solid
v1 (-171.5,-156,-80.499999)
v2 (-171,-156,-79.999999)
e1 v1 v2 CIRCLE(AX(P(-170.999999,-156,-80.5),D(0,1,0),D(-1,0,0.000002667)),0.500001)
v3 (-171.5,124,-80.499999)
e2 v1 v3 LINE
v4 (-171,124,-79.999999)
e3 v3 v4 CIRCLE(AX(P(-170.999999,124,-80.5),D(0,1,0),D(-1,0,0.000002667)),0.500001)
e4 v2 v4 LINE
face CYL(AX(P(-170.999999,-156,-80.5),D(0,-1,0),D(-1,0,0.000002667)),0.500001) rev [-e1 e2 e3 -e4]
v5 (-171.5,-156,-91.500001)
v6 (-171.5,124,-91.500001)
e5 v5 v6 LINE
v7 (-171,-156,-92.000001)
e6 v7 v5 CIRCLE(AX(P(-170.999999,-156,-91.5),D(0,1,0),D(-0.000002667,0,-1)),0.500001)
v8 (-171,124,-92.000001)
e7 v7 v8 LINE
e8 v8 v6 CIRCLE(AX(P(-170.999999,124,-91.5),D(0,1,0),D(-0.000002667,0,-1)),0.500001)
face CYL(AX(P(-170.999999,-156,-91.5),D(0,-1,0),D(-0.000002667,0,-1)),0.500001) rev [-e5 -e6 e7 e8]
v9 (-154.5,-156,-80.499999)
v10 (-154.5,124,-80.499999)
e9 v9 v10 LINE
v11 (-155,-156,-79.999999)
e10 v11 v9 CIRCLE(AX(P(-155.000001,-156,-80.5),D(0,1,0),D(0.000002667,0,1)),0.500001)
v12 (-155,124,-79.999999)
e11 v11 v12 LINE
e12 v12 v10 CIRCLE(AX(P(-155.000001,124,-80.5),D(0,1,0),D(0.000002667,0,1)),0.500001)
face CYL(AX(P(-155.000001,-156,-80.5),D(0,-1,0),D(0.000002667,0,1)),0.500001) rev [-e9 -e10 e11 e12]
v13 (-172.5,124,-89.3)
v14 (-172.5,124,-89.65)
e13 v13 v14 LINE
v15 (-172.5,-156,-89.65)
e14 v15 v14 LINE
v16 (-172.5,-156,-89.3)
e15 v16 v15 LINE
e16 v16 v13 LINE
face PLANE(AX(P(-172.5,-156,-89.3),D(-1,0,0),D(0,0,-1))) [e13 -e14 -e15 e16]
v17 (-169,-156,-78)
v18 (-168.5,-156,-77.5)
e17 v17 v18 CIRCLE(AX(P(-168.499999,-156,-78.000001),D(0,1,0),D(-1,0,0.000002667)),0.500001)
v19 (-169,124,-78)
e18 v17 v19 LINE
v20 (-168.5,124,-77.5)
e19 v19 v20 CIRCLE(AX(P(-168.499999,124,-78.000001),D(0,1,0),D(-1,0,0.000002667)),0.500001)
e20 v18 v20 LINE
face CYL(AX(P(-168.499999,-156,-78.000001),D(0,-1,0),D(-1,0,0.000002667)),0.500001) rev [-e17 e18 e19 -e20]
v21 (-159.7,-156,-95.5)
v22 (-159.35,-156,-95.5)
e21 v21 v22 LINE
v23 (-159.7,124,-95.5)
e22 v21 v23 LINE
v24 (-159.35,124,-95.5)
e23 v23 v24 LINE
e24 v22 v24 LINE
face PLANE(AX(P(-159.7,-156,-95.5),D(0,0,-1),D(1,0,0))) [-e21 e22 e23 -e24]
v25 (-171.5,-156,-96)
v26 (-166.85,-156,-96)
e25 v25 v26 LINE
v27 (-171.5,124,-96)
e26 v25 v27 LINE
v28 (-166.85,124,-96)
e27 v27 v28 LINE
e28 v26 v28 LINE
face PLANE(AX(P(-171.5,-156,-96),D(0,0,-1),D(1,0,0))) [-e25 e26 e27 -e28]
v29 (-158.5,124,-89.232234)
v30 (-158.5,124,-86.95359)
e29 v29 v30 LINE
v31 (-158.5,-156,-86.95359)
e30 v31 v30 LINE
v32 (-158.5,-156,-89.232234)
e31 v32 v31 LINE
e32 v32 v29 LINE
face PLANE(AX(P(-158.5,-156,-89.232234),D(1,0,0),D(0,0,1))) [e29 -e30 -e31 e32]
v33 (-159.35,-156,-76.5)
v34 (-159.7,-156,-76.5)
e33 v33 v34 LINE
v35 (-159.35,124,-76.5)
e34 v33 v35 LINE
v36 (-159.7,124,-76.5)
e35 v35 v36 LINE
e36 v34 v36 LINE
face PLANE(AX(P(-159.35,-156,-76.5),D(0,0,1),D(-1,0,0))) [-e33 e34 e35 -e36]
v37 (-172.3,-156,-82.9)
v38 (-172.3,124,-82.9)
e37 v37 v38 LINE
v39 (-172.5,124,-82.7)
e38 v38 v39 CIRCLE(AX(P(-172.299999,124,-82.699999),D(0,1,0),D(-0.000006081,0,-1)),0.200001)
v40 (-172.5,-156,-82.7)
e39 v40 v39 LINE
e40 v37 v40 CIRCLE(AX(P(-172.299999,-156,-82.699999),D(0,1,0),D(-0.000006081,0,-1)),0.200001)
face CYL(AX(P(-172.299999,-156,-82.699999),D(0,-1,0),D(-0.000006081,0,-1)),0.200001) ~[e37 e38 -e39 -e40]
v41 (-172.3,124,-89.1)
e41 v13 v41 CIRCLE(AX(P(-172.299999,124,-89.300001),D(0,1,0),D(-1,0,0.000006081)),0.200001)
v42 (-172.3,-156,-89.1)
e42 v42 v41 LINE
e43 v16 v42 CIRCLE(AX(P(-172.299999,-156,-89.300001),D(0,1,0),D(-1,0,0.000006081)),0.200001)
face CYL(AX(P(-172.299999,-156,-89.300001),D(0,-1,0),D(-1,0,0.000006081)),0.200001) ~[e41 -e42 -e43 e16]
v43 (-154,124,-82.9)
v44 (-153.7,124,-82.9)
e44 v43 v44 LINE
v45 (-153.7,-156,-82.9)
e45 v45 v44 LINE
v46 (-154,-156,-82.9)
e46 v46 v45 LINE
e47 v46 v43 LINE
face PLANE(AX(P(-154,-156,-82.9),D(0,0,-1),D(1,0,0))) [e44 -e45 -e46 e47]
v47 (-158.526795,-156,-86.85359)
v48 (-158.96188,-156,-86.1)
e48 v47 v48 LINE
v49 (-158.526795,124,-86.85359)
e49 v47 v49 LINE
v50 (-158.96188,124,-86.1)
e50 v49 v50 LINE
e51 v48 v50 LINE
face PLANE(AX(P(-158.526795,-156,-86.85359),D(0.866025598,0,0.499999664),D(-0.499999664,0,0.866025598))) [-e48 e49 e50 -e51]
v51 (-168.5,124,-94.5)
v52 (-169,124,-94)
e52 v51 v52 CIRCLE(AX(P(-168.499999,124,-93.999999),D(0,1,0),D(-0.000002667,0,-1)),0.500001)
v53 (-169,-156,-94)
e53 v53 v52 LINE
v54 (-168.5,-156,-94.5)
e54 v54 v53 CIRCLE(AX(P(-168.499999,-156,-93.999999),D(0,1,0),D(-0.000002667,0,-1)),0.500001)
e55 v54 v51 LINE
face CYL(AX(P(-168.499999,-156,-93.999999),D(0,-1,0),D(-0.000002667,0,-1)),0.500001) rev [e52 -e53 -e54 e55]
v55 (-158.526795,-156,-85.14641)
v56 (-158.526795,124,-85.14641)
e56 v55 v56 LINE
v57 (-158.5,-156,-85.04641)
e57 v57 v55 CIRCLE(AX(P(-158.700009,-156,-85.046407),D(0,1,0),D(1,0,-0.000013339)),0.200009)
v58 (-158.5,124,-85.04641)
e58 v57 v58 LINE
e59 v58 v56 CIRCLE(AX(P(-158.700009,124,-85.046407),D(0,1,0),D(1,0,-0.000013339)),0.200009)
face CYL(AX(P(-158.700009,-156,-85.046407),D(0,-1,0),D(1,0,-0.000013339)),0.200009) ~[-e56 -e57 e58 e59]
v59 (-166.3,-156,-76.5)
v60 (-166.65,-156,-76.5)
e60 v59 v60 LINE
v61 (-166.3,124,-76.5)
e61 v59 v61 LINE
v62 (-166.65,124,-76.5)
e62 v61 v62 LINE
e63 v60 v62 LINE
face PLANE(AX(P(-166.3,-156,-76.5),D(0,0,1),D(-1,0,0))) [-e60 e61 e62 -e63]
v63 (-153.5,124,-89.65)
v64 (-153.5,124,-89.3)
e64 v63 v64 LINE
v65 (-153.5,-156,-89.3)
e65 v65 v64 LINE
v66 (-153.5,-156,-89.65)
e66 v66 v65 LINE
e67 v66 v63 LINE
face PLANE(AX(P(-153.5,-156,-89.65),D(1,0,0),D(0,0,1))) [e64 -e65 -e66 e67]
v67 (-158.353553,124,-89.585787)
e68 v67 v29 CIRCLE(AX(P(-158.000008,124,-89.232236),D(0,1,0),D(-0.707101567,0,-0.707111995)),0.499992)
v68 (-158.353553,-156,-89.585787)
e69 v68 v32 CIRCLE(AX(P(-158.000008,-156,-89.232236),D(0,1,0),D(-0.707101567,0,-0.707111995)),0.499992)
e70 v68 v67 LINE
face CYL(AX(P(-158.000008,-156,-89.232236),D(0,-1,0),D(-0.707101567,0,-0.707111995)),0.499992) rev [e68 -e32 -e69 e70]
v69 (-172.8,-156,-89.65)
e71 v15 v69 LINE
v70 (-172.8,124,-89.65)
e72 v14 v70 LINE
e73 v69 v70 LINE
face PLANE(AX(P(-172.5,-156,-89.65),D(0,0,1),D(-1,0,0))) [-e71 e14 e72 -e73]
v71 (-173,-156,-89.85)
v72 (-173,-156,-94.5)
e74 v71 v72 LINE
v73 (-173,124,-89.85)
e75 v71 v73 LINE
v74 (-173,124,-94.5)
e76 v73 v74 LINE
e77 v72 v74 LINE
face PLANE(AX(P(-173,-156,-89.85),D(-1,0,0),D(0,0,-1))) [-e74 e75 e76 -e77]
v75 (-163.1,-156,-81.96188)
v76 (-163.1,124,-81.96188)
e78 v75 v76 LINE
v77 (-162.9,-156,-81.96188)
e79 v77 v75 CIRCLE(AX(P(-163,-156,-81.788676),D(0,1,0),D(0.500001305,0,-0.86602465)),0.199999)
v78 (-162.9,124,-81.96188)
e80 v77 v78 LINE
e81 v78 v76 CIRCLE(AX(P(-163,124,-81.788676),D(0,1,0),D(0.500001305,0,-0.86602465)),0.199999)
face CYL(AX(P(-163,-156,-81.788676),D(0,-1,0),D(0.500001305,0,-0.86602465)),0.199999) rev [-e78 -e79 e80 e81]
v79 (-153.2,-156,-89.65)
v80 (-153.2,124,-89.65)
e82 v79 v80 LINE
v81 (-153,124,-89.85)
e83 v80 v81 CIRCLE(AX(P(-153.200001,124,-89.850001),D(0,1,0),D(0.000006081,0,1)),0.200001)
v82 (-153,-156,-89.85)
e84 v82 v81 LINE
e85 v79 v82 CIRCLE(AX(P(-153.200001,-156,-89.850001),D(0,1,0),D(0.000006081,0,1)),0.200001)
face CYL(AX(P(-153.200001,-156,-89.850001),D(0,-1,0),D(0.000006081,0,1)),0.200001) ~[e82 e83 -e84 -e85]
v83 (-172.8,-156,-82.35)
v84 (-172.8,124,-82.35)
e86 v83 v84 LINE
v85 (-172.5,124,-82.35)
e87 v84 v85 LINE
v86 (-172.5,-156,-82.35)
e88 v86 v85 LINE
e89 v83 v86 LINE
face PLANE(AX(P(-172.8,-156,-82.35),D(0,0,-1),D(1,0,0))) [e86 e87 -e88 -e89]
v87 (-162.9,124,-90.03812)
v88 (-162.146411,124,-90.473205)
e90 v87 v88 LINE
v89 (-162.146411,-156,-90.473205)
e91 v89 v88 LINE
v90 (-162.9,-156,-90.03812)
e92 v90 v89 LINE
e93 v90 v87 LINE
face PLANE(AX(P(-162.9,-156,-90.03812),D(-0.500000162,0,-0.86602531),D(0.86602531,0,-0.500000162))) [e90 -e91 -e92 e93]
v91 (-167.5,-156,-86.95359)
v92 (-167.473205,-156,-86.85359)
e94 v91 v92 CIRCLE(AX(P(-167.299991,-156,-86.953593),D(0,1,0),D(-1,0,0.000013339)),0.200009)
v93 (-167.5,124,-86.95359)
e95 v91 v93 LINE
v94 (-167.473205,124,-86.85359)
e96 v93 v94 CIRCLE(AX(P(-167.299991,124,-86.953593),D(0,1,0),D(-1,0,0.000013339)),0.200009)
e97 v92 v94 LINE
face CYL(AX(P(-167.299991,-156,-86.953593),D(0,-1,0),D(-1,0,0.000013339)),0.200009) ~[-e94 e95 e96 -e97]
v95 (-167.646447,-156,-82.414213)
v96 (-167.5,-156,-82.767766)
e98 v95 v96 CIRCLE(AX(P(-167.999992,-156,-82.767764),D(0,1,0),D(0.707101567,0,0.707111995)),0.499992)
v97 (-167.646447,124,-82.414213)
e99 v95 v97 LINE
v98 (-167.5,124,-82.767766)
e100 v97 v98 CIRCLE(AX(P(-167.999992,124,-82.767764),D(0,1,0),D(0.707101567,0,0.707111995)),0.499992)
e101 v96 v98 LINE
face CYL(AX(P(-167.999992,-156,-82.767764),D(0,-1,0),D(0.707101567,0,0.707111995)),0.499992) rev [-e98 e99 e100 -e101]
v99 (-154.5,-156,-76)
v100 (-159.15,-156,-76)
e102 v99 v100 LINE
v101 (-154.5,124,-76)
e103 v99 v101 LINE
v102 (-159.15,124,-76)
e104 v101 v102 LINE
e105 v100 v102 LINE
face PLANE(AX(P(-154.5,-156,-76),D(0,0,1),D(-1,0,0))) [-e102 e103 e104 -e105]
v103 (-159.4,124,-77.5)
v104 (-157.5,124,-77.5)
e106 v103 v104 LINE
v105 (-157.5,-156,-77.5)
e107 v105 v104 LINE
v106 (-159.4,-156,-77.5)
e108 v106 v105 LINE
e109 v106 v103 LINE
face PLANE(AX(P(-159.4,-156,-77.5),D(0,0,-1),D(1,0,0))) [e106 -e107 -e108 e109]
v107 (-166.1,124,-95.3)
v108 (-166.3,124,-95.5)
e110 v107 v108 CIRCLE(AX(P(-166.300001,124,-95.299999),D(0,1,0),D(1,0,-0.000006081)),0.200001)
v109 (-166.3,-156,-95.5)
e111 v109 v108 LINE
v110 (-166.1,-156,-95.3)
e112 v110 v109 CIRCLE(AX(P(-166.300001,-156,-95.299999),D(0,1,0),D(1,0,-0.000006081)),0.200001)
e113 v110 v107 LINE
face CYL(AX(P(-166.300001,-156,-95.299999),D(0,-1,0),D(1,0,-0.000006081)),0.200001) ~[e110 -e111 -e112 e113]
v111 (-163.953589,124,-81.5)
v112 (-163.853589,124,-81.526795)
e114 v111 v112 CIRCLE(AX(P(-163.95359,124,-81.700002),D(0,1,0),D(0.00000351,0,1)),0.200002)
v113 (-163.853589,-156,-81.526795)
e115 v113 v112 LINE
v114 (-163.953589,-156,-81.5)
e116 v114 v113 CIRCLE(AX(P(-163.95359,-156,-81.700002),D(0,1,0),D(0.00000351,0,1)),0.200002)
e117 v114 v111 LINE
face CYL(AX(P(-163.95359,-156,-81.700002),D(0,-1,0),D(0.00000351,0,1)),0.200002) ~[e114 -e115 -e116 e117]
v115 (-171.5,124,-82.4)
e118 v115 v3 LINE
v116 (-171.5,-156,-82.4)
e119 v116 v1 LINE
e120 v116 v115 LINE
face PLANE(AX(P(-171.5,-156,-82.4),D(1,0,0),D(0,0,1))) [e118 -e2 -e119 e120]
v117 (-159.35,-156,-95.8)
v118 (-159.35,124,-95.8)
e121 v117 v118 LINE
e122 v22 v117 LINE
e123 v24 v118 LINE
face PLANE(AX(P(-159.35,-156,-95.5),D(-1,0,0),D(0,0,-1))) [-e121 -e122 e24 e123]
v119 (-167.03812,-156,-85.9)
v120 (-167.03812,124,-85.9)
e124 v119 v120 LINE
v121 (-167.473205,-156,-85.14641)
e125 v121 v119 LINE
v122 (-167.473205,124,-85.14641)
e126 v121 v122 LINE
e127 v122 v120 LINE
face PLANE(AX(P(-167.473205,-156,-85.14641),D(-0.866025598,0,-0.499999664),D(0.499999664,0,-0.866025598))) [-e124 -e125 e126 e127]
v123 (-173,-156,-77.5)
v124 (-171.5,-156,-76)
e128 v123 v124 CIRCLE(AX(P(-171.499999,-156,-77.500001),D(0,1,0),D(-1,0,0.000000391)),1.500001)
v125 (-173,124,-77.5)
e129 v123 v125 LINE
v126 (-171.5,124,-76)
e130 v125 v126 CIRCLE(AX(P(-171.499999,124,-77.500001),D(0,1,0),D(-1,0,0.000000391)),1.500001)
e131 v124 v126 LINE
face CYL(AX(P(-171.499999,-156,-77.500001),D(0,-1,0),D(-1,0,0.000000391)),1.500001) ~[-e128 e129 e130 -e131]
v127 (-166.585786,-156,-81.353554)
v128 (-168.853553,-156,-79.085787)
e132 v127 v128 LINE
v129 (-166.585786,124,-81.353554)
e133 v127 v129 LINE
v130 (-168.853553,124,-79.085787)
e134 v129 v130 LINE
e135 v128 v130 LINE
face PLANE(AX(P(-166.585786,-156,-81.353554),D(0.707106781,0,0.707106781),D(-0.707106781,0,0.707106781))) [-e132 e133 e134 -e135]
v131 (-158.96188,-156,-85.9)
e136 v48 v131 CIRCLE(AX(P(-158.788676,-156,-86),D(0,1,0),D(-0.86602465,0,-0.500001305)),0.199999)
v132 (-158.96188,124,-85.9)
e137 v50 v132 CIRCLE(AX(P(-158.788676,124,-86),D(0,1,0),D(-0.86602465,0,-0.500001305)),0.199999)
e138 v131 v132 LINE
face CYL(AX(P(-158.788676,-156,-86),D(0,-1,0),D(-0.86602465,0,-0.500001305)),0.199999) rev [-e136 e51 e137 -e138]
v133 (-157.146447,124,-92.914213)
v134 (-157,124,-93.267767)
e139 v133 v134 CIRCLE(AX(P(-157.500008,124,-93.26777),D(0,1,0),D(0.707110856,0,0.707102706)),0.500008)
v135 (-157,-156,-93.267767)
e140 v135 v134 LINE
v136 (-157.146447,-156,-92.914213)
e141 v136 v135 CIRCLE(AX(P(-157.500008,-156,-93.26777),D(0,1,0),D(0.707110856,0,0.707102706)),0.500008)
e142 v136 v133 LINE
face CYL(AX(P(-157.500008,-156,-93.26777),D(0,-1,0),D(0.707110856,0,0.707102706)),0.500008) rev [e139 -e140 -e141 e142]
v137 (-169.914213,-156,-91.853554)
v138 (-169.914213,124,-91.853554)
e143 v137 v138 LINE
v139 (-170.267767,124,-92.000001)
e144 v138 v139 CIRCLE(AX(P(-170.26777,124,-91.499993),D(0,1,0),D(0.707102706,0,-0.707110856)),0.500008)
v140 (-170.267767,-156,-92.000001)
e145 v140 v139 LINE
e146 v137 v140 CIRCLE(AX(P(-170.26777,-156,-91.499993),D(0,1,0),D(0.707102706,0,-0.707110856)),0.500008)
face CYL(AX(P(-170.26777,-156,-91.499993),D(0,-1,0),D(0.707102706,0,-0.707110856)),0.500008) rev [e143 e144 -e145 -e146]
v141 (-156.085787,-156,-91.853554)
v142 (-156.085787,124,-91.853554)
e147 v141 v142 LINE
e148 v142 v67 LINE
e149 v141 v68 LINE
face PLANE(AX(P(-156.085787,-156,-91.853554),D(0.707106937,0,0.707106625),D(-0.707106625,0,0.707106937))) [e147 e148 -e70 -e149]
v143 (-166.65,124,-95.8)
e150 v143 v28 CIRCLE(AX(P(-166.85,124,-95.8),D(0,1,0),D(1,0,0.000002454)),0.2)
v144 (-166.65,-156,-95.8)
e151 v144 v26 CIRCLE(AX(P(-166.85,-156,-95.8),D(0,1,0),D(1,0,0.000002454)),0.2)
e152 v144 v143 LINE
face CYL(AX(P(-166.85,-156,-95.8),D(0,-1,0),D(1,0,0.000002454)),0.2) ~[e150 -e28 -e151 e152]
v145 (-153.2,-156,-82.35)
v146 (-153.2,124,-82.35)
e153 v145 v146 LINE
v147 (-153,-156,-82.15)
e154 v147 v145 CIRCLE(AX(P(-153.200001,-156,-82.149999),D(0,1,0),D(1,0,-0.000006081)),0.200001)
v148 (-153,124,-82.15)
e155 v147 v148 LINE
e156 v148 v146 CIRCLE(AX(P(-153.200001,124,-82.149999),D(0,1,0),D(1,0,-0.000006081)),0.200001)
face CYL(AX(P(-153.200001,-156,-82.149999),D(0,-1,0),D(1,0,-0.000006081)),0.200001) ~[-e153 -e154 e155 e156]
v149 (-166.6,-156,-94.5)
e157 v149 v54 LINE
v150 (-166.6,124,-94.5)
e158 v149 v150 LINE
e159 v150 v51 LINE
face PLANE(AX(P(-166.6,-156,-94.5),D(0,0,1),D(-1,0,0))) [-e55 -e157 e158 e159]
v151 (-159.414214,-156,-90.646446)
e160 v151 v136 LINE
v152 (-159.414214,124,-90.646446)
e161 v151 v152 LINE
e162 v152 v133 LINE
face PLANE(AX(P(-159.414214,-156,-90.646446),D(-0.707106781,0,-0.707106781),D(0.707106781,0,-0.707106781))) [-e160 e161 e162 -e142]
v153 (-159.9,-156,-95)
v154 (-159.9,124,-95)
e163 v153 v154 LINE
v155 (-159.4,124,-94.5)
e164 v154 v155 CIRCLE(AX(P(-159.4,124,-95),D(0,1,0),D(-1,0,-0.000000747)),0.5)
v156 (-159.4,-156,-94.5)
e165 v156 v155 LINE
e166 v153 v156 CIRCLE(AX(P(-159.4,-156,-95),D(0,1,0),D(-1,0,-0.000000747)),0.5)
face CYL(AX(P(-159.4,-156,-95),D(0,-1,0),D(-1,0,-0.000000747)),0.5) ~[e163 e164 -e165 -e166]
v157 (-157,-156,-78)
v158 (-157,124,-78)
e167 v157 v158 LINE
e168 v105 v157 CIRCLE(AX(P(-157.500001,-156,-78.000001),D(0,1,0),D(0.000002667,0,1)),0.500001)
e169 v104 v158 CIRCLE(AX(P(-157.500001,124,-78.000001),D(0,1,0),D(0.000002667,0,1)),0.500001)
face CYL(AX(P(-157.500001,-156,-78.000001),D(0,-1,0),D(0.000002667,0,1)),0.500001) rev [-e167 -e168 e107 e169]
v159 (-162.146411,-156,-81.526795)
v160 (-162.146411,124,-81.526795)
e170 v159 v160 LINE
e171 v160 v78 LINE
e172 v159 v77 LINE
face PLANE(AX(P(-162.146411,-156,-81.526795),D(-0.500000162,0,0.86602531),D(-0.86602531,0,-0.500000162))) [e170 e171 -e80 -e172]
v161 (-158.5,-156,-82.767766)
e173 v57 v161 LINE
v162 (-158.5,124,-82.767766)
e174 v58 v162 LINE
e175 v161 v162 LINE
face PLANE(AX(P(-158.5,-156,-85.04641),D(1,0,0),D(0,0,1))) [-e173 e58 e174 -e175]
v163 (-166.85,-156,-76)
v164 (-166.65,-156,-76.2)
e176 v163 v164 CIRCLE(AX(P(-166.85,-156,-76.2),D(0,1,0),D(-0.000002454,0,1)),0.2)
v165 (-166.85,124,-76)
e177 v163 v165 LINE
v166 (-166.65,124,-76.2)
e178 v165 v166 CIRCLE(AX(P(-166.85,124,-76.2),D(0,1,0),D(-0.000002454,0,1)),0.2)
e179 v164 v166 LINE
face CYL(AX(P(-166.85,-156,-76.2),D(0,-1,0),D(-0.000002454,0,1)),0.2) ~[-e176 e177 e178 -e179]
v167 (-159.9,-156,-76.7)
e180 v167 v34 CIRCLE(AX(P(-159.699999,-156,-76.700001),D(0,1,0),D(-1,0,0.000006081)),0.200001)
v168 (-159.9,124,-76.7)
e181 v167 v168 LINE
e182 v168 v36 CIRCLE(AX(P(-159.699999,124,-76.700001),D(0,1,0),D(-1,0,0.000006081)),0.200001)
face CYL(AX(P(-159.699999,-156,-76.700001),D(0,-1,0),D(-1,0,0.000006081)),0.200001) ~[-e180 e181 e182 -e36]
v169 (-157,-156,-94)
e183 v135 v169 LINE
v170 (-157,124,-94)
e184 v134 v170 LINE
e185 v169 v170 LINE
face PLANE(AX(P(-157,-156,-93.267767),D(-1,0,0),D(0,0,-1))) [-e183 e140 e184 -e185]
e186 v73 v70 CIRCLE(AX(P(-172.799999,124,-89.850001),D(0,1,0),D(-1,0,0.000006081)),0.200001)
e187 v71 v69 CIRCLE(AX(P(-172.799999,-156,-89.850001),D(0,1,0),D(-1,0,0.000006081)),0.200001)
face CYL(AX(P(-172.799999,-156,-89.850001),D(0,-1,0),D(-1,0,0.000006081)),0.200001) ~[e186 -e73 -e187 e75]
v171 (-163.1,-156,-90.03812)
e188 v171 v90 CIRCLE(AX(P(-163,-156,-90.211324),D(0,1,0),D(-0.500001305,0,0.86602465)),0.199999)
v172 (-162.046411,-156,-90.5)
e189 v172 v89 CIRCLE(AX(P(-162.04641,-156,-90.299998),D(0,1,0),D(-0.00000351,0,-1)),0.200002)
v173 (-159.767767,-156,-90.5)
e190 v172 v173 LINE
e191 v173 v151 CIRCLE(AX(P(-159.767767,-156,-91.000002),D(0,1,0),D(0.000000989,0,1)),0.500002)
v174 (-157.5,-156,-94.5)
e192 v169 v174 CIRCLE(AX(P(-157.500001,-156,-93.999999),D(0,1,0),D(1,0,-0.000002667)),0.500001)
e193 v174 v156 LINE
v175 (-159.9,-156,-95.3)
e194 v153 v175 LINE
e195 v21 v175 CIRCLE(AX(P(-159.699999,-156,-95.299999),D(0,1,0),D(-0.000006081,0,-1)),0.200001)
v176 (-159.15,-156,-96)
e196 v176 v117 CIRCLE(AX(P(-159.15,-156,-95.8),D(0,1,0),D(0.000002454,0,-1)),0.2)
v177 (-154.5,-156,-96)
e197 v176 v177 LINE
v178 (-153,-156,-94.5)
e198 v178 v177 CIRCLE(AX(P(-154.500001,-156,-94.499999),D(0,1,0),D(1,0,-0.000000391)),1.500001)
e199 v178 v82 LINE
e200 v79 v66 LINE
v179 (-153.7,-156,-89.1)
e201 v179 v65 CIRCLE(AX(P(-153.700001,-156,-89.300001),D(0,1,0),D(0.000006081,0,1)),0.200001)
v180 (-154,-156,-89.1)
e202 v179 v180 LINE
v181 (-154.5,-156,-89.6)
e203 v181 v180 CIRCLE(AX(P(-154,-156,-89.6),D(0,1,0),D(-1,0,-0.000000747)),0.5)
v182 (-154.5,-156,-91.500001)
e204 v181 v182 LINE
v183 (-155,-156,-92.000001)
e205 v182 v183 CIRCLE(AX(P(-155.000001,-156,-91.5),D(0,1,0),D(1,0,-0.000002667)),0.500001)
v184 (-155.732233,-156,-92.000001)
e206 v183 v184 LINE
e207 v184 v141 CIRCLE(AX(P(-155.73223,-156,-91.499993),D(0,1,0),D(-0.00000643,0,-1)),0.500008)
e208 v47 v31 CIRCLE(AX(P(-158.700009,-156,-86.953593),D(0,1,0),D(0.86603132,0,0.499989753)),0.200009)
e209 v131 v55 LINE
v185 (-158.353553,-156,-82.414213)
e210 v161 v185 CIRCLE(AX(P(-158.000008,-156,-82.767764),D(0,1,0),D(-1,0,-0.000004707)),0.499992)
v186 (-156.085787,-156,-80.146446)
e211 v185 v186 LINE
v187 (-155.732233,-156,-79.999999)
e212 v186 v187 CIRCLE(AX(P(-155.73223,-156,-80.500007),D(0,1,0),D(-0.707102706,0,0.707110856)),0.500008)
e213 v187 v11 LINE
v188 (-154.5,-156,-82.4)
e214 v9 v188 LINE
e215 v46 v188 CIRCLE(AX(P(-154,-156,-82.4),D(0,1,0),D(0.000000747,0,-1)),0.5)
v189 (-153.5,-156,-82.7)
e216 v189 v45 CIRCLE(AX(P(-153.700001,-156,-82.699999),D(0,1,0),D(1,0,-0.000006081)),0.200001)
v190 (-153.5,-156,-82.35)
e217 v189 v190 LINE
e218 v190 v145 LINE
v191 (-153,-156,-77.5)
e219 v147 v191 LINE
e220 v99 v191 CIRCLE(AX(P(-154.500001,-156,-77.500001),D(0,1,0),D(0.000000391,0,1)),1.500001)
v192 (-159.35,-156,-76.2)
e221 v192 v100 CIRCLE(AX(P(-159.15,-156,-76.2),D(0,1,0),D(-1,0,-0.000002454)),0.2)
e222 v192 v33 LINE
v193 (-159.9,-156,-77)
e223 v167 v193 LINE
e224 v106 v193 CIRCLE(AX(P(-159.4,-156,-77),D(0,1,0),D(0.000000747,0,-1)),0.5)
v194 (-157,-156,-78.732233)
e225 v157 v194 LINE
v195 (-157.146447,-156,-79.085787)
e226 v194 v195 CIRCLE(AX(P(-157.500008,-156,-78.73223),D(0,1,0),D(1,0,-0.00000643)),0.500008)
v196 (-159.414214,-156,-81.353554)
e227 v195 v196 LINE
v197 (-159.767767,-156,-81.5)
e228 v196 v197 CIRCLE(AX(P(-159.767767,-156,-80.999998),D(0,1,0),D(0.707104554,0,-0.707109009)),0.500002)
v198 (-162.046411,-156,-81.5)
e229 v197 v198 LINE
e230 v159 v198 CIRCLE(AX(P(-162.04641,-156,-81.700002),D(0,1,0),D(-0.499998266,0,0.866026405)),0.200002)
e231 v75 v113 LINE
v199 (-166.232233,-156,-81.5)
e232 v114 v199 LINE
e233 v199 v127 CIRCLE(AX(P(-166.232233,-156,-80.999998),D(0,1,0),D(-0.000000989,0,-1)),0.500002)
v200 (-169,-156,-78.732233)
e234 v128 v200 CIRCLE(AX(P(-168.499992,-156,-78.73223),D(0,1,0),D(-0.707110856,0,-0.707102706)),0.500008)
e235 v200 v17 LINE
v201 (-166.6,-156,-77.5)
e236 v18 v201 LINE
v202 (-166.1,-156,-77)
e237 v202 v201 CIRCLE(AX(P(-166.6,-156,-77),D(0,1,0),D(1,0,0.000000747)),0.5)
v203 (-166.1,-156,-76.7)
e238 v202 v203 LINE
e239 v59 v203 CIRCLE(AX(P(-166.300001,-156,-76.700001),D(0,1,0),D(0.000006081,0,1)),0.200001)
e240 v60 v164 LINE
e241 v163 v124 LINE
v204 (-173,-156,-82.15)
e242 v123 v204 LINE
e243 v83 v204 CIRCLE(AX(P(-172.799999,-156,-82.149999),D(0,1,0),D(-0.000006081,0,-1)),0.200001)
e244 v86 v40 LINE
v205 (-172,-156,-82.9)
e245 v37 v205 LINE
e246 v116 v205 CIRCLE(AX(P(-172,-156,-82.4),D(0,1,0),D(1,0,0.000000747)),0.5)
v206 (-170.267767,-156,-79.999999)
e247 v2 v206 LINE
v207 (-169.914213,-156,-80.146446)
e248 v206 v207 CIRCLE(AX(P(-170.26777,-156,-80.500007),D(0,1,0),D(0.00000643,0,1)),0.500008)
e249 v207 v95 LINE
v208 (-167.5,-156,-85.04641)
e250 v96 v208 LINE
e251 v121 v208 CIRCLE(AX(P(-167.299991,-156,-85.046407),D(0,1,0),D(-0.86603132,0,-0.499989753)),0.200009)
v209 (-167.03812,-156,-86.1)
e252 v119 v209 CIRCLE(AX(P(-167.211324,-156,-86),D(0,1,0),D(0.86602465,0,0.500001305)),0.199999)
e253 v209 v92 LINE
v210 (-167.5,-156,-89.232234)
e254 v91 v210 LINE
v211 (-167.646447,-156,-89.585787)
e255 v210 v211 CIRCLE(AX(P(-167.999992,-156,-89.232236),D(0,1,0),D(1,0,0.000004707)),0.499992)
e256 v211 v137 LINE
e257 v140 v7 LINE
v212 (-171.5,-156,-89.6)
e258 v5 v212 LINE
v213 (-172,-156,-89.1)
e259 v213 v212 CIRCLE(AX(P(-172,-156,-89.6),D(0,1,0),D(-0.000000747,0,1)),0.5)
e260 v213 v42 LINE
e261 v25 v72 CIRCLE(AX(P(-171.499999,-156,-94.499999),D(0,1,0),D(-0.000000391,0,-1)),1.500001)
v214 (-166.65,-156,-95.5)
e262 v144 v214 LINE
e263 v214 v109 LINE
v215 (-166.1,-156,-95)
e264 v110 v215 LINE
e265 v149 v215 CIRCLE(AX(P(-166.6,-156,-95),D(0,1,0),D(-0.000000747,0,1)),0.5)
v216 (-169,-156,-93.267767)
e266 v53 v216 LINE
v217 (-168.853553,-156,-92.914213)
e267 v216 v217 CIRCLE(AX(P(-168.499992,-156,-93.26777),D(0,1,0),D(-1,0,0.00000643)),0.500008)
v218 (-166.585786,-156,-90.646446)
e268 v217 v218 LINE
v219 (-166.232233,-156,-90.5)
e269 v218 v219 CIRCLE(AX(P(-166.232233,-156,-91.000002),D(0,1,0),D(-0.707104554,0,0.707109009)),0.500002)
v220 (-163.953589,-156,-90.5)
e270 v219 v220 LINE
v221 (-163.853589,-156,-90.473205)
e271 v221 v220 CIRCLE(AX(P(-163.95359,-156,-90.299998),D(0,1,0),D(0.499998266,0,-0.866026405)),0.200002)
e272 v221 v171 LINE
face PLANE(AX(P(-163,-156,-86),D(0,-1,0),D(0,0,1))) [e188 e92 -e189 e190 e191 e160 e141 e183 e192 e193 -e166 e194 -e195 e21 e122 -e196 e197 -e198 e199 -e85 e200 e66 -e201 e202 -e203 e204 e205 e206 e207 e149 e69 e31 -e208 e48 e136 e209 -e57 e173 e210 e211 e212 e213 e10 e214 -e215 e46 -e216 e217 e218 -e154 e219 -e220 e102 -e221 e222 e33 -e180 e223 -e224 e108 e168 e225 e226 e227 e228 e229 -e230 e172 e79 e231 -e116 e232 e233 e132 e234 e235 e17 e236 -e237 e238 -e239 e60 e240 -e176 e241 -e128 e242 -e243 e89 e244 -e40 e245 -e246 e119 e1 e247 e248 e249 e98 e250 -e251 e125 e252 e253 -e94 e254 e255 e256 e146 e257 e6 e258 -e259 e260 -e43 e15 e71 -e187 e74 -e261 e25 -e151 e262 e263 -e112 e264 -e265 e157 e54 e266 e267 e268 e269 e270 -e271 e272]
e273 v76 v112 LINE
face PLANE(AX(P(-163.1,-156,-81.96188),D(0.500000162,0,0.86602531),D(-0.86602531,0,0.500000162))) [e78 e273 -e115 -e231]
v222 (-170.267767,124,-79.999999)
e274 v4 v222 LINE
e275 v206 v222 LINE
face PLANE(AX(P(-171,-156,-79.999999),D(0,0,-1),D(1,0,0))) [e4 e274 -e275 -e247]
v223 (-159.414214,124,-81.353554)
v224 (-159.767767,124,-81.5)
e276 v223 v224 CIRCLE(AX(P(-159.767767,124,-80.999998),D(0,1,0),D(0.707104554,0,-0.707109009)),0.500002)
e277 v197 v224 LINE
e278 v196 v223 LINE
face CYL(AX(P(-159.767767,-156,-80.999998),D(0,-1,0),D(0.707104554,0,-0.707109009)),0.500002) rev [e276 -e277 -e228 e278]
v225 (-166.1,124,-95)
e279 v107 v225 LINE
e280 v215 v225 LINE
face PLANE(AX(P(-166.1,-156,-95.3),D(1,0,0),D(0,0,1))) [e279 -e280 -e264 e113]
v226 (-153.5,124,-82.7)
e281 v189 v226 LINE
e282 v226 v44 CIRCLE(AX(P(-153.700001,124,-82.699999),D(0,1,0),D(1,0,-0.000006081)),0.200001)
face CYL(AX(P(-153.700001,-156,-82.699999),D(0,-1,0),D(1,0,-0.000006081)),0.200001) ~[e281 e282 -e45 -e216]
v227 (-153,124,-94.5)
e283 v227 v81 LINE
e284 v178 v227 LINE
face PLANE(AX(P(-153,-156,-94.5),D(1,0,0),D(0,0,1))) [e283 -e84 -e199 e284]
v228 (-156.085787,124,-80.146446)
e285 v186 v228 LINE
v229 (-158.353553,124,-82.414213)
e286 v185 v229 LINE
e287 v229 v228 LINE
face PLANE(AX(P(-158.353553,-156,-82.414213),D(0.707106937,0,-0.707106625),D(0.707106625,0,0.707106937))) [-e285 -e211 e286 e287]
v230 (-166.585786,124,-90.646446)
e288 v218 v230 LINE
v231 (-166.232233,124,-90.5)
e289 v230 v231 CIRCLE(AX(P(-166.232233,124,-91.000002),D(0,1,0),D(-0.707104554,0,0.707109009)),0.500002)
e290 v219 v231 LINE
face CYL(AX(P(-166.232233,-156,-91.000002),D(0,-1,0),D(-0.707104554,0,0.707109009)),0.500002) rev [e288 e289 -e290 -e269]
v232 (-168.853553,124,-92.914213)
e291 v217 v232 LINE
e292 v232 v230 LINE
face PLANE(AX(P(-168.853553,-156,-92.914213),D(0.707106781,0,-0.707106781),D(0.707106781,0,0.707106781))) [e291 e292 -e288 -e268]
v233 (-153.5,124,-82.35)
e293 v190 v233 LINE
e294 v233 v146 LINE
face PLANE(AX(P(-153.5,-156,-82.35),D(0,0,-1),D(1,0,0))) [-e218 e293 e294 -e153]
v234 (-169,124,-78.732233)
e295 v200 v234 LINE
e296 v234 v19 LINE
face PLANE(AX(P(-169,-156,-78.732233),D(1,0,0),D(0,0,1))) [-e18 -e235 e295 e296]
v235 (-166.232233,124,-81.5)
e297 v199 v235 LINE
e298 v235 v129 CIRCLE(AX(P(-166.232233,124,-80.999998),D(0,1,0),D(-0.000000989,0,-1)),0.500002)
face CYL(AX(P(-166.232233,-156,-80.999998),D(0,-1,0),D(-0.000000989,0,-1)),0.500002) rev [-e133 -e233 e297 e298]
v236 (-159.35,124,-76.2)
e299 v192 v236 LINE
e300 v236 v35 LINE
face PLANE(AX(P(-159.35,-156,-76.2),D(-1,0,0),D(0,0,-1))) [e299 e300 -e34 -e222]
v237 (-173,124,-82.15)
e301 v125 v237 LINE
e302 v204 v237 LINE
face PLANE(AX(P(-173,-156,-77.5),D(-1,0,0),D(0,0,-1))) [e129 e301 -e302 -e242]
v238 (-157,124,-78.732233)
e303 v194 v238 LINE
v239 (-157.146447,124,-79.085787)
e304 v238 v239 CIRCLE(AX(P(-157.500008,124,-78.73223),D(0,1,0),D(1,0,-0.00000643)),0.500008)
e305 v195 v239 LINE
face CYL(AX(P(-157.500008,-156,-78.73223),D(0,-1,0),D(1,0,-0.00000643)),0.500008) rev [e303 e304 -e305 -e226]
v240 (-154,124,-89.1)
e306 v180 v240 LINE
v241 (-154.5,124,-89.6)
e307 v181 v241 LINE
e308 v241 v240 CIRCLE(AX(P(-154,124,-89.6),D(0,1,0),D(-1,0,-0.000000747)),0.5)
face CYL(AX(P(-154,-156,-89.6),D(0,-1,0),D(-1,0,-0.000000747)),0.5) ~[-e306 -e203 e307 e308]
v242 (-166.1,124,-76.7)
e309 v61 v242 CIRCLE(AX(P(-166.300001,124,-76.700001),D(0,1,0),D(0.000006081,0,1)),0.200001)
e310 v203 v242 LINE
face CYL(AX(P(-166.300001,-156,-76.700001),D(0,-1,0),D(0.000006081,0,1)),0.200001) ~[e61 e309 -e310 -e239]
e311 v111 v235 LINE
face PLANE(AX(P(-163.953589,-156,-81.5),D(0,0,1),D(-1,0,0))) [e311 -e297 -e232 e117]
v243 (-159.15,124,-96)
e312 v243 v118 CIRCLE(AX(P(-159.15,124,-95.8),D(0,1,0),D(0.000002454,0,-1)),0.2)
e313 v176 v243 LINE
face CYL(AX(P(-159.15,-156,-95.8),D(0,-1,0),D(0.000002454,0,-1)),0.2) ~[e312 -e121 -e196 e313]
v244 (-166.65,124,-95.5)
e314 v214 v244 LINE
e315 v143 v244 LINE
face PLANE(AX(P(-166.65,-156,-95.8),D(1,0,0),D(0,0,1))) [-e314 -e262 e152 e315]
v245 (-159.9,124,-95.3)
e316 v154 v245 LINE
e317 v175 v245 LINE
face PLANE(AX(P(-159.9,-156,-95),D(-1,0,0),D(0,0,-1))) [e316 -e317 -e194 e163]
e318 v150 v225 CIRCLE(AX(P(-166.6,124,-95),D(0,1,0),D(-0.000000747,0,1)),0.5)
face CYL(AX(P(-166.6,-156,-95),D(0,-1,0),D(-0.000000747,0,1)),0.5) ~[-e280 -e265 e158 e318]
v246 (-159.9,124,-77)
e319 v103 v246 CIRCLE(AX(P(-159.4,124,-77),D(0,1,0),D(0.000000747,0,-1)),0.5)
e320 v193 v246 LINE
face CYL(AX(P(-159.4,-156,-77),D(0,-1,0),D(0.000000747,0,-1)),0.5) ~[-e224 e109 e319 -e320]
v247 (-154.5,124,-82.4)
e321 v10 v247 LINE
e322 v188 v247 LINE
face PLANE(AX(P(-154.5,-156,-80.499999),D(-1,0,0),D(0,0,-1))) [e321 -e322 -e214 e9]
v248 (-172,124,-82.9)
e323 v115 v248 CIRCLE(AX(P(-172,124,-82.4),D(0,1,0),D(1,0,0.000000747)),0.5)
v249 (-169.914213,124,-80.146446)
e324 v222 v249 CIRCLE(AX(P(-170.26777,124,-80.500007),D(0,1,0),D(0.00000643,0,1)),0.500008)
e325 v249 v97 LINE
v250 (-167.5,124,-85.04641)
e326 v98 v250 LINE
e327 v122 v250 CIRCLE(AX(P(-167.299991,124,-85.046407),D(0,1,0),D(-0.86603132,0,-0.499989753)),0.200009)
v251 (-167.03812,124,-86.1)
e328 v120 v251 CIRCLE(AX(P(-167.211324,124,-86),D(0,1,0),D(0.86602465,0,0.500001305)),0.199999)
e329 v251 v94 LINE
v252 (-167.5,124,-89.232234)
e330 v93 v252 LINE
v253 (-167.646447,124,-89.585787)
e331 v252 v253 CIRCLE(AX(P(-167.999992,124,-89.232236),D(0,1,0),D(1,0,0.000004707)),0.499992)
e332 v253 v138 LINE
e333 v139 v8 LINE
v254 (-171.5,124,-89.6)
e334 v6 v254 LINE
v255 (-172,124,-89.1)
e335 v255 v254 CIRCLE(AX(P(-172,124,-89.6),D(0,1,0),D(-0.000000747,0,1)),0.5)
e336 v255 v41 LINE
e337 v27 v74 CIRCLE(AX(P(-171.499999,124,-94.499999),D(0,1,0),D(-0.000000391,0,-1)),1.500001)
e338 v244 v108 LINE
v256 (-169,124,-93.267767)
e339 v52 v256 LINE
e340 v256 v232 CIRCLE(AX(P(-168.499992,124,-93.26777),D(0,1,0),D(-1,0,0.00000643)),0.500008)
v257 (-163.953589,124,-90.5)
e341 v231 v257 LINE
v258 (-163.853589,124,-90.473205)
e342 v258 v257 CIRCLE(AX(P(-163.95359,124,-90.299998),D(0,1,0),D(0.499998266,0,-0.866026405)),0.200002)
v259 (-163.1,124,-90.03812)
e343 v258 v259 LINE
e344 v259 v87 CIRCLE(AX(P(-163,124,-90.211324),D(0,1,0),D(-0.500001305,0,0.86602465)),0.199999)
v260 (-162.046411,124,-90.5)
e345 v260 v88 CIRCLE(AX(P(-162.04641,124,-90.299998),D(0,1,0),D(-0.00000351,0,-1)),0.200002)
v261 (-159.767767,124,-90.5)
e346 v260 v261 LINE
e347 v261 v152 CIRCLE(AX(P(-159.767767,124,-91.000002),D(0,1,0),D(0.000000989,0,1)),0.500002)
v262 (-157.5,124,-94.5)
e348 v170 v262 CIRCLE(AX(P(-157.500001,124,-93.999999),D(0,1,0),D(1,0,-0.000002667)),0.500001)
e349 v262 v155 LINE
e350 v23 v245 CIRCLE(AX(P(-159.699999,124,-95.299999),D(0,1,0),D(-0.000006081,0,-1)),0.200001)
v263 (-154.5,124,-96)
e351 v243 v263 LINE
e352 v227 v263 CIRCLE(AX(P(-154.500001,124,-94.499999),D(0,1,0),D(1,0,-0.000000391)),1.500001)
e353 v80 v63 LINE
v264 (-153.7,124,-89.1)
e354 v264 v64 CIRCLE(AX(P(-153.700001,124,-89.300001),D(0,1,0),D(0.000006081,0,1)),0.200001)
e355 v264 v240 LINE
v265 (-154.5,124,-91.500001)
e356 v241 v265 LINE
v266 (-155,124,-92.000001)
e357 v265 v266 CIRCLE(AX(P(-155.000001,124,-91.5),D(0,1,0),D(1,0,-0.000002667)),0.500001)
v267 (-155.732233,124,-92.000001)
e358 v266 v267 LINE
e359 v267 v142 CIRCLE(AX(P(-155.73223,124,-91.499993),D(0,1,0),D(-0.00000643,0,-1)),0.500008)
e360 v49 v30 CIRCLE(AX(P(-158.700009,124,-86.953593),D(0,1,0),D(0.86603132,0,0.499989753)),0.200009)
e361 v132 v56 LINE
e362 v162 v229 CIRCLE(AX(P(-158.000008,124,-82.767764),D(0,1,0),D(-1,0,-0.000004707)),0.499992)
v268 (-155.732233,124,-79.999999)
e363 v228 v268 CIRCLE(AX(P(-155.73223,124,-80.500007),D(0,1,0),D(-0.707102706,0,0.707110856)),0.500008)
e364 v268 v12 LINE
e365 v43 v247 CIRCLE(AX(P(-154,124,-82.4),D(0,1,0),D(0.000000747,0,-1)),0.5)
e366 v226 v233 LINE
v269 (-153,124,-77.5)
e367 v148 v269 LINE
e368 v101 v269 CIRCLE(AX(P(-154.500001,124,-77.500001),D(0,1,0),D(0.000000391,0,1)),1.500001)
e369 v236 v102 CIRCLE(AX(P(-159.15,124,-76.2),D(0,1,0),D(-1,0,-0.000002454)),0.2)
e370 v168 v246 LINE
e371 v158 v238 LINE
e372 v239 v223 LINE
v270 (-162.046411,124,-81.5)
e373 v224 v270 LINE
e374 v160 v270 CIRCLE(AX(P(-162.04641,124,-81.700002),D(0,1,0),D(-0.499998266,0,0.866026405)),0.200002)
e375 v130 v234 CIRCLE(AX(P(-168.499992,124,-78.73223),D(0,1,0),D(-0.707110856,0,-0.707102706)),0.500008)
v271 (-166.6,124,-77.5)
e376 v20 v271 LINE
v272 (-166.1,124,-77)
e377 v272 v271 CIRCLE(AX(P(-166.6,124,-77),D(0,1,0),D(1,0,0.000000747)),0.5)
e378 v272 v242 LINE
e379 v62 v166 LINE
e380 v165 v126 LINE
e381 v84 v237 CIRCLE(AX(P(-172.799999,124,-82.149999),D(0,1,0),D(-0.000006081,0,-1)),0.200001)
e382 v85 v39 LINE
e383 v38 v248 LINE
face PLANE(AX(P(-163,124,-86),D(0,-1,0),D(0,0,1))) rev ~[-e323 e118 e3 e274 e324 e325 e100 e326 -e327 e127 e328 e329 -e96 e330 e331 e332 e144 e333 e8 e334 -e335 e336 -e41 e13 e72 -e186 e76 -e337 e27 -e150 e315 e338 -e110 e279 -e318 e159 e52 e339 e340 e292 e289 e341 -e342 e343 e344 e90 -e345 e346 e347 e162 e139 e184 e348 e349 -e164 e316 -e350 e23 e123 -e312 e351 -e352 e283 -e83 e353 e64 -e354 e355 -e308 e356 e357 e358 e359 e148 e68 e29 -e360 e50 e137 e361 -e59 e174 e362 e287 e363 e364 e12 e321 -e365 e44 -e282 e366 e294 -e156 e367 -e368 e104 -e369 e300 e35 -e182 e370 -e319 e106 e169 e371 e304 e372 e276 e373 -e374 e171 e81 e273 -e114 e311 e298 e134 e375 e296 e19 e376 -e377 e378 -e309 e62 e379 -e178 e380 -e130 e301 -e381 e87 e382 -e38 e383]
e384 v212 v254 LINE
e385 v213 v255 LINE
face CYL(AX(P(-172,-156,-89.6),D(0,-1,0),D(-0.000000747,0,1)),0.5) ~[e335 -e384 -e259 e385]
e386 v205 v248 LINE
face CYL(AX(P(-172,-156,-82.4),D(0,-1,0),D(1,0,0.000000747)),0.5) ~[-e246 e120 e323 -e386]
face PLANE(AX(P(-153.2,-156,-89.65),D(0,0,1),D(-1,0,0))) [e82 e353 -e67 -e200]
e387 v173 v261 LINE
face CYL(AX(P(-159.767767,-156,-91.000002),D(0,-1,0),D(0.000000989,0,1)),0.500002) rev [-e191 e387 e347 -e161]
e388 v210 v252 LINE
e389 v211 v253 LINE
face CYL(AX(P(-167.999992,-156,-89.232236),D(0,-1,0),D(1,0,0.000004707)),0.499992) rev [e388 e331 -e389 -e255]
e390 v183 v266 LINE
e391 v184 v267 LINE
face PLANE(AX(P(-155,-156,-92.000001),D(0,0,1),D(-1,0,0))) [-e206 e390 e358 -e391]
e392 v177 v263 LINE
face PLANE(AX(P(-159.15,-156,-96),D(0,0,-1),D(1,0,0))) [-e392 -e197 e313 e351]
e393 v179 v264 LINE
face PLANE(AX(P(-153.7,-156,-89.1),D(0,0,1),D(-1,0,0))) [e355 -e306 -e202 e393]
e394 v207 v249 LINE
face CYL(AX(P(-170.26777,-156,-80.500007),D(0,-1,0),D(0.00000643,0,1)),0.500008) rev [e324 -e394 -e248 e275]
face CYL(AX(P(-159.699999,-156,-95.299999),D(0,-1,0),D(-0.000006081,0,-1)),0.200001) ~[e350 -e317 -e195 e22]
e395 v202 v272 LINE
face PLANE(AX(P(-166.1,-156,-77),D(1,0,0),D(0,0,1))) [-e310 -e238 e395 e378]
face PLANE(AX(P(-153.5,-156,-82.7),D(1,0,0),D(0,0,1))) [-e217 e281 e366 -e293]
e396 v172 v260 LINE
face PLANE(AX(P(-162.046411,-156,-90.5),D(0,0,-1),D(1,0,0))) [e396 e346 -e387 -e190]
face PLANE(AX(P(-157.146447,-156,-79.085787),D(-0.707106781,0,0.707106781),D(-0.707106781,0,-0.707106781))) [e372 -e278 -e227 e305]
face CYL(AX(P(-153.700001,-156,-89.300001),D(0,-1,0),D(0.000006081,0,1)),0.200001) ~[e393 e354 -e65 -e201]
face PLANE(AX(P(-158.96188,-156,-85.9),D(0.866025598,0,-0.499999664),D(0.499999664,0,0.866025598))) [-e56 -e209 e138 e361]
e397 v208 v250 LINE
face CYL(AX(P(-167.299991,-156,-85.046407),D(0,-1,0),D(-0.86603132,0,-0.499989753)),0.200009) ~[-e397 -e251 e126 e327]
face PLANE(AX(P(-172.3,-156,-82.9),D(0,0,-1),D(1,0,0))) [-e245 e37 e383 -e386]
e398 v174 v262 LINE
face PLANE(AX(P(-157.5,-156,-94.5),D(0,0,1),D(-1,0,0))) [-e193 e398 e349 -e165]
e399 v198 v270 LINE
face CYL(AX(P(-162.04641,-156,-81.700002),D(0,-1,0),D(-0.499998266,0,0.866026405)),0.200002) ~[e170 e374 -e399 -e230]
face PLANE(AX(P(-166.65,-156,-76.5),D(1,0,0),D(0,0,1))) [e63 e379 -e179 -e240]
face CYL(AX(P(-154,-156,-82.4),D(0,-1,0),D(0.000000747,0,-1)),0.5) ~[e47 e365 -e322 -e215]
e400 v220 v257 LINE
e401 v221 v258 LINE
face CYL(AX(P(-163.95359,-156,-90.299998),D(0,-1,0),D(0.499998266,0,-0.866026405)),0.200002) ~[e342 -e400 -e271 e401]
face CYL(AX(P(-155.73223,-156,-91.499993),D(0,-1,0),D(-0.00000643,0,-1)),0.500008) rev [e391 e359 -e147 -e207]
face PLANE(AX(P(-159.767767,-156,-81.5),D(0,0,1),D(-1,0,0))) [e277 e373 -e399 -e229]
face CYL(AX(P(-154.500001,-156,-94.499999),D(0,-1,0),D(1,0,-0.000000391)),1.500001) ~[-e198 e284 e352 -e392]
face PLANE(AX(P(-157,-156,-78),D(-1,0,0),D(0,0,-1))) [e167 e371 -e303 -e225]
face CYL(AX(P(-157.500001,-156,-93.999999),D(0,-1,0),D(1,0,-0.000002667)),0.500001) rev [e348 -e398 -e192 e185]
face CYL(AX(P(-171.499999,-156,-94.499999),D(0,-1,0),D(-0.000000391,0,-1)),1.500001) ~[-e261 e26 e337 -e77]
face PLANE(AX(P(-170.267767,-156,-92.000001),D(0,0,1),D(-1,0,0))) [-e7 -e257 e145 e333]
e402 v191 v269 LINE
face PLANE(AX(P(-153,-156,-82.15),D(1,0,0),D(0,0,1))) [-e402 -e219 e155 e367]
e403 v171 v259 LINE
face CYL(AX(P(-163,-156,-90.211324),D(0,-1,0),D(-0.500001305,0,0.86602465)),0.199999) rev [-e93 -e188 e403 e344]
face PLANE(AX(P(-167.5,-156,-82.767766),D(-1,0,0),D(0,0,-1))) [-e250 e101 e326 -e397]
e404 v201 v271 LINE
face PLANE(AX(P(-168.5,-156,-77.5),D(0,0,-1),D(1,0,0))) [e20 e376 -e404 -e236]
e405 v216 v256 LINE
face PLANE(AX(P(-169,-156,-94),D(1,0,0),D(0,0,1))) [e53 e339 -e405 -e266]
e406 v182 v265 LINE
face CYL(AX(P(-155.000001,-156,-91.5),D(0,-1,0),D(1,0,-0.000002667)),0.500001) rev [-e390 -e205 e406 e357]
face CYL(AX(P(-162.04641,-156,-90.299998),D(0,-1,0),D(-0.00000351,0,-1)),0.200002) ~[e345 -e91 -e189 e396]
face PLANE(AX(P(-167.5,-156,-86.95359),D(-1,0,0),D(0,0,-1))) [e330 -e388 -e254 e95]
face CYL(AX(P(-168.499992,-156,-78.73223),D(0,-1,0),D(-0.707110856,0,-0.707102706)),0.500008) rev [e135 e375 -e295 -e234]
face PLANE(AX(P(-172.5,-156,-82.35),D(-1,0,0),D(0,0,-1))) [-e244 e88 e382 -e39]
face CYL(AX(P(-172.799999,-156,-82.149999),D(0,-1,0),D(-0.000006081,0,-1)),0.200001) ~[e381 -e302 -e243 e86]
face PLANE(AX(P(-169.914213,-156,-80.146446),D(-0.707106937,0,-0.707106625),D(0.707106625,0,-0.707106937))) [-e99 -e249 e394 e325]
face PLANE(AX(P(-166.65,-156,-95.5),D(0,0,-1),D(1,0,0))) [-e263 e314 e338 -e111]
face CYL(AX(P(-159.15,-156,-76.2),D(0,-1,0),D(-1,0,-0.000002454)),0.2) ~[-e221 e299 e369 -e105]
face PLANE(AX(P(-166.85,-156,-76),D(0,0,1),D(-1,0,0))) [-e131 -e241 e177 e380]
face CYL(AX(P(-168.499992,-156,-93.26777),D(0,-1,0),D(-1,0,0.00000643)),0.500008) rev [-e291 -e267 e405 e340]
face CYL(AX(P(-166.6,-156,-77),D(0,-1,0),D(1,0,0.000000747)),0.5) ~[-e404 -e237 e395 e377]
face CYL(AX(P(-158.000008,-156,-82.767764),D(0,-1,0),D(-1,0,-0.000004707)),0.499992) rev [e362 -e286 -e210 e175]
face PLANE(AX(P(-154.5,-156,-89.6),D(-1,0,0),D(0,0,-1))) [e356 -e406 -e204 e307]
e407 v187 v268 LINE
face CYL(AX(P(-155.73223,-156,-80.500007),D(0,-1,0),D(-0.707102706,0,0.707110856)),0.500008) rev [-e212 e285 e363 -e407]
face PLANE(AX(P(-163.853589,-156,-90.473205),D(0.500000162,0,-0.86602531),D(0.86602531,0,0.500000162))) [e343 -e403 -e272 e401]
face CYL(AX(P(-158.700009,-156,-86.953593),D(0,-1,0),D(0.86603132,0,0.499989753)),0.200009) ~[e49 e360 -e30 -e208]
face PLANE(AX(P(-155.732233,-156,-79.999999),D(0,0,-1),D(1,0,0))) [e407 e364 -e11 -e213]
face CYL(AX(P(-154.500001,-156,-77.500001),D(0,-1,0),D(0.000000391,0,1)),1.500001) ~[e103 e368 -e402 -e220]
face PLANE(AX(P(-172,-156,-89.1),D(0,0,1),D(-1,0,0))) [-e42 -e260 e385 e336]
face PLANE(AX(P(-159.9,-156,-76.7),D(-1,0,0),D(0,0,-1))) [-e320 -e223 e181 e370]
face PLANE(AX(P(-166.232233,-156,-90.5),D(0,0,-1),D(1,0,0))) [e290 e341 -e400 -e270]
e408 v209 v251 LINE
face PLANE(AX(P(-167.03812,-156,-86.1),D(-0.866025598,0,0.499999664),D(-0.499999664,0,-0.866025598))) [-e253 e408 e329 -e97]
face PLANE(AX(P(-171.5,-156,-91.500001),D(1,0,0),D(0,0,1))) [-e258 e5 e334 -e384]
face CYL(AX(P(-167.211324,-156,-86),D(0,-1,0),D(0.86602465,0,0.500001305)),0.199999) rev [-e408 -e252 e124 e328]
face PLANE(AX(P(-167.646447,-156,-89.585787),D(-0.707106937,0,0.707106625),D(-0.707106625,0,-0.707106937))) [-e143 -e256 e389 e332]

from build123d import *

# Parameters (mm, degrees)
PAD006_DEPTH    = 280
POCKET018_DEPTH = 280.001


with BuildPart() as pad006:
    # Sketch013 → Pad006 (new body)
    with BuildSketch(Plane(origin=(0, 0, -1.5), x_dir=(0, 0, -1), z_dir=(0, 1, 0))):
        with BuildLine():
            Line((0, 20), (4.65, 20))
            ThreePointArc((4.85, 19.8), (4.791421, 19.941421), (4.65, 20))
            Line((4.85, 19.8), (4.85, 19.5))
            Line((4.85, 19.5), (5.2, 19.5))
            ThreePointArc((5.4, 19.3), (5.341421, 19.441421), (5.2, 19.5))
            Line((5.4, 19.3), (5.4, 19))
            ThreePointArc((4.9, 18.5), (5.253553, 18.646446), (5.4, 19))
            Line((4.9, 18.5), (2.999999, 18.5))
            ThreePointArc((2.999999, 18.5), (2.646446, 18.353553), (2.499999, 18))
            Line((2.499999, 18), (2.499999, 17.267767))
            ThreePointArc((2.499999, 17.267767), (2.53806, 17.076425), (2.646446, 16.914213))
            Line((2.646446, 16.914213), (4.914213, 14.646447))
            ThreePointArc((4.914213, 14.646447), (5.076424, 14.53806), (5.267766, 14.5))
            Line((5.267766, 14.5), (7.54641, 14.5))
            ThreePointArc((7.64641, 14.473205), (7.598173, 14.493185), (7.54641, 14.5))
            Line((7.64641, 14.473205), (8.4, 14.03812))
            ThreePointArc((8.4, 14.03812), (8.5, 14.011325), (8.6, 14.03812))
            Line((8.6, 14.03812), (9.35359, 14.473205))
            ThreePointArc((9.45359, 14.5), (9.401827, 14.493185), (9.35359, 14.473205))
            Line((9.45359, 14.5), (11.732234, 14.5))
            ThreePointArc((11.732234, 14.5), (11.923576, 14.53806), (12.085787, 14.646447))
            Line((12.085787, 14.646447), (14.353554, 16.914213))
            ThreePointArc((14.353554, 16.914213), (14.46194, 17.076425), (14.500001, 17.267767))
            Line((14.500001, 17.267767), (14.500001, 18))
            ThreePointArc((14.500001, 18), (14.353554, 18.353553), (14.000001, 18.5))
            Line((14.000001, 18.5), (12.1, 18.5))
            ThreePointArc((11.6, 19), (11.746447, 18.646446), (12.1, 18.5))
            Line((11.6, 19), (11.6, 19.3))
            ThreePointArc((11.8, 19.5), (11.658579, 19.441421), (11.6, 19.3))
            Line((11.8, 19.5), (12.15, 19.5))
            Line((12.15, 19.5), (12.15, 19.8))
            ThreePointArc((12.35, 20), (12.208579, 19.941421), (12.15, 19.8))
            Line((12.35, 20), (17, 20))
            ThreePointArc((18.5, 18.5), (18.06066, 19.56066), (17, 20))
            Line((18.5, 18.5), (18.5, 13.85))
            ThreePointArc((18.3, 13.65), (18.441421, 13.708578), (18.5, 13.85))
            Line((18.3, 13.65), (18, 13.65))
            Line((18, 13.65), (18, 13.3))
            ThreePointArc((17.8, 13.1), (17.941421, 13.158579), (18, 13.3))
            Line((17.8, 13.1), (17.5, 13.1))
            ThreePointArc((17, 13.6), (17.146446, 13.246447), (17.5, 13.1))
            Line((17, 13.6), (17, 15.5))
            ThreePointArc((17, 15.5), (16.853553, 15.853553), (16.5, 16))
            Line((16.5, 16), (15.767767, 16))
            ThreePointArc((15.767767, 16), (15.576425, 15.961939), (15.414213, 15.853553))
            Line((15.414213, 15.853553), (13.146446, 13.585786))
            ThreePointArc((13.146446, 13.585786), (13.03806, 13.423574), (13, 13.232233))
            Line((13, 13.232233), (13, 10.953589))
            ThreePointArc((12.973205, 10.853589), (12.993185, 10.901825), (13, 10.953589))
            Line((12.973205, 10.853589), (12.53812, 10.1))
            ThreePointArc((12.53812, 10.1), (12.511325, 10), (12.53812, 9.9))
            Line((12.53812, 9.9), (12.973205, 9.146411))
            ThreePointArc((13, 9.046411), (12.993185, 9.098175), (12.973205, 9.146411))
            Line((13, 9.046411), (13, 6.767767))
            ThreePointArc((13, 6.767767), (13.03806, 6.576426), (13.146446, 6.414214))
            Line((13.146446, 6.414214), (15.414213, 4.146447))
            ThreePointArc((15.414213, 4.146447), (15.576425, 4.038061), (15.767767, 4))
            Line((15.767767, 4), (16.5, 4))
            ThreePointArc((16.5, 4), (16.853553, 4.146447), (17, 4.5))
            Line((17, 4.5), (17, 6.4))
            ThreePointArc((17.5, 6.9), (17.146446, 6.753553), (17, 6.4))
            Line((17.5, 6.9), (17.8, 6.9))
            ThreePointArc((18, 6.7), (17.941421, 6.841421), (17.8, 6.9))
            Line((18, 6.7), (18, 6.35))
            Line((18, 6.35), (18.3, 6.35))
            ThreePointArc((18.5, 6.15), (18.441421, 6.291422), (18.3, 6.35))
            Line((18.5, 6.15), (18.5, 1.5))
            ThreePointArc((17, 0), (18.06066, 0.43934), (18.5, 1.5))
            Line((17, 0), (12.35, 0))
            ThreePointArc((12.15, 0.2), (12.208579, 0.058579), (12.35, 0))
            Line((12.15, 0.2), (12.15, 0.5))
            Line((12.15, 0.5), (11.8, 0.5))
            ThreePointArc((11.6, 0.7), (11.658579, 0.558579), (11.8, 0.5))
            Line((11.6, 0.7), (11.6, 1))
            ThreePointArc((12.1, 1.5), (11.746447, 1.353554), (11.6, 1))
            Line((12.1, 1.5), (14.000001, 1.5))
            ThreePointArc((14.000001, 1.5), (14.353554, 1.646447), (14.500001, 2))
            Line((14.500001, 2), (14.500001, 2.732233))
            ThreePointArc((14.500001, 2.732233), (14.46194, 2.923575), (14.353554, 3.085787))
            Line((14.353554, 3.085787), (12.085787, 5.353553))
            ThreePointArc((12.085787, 5.353553), (11.923576, 5.46194), (11.732234, 5.5))
            Line((11.732234, 5.5), (9.45359, 5.5))
            ThreePointArc((9.35359, 5.526795), (9.401827, 5.506815), (9.45359, 5.5))
            Line((9.35359, 5.526795), (8.6, 5.96188))
            ThreePointArc((8.6, 5.96188), (8.5, 5.988675), (8.4, 5.96188))
            Line((8.4, 5.96188), (7.64641, 5.526795))
            ThreePointArc((7.54641, 5.5), (7.598173, 5.506815), (7.64641, 5.526795))
            Line((7.54641, 5.5), (5.267766, 5.5))
            ThreePointArc((5.267766, 5.5), (5.076424, 5.46194), (4.914213, 5.353553))
            Line((4.914213, 5.353553), (2.646446, 3.085787))
            ThreePointArc((2.646446, 3.085787), (2.53806, 2.923575), (2.499999, 2.732233))
            Line((2.499999, 2.732233), (2.499999, 2))
            ThreePointArc((2.499999, 2), (2.646446, 1.646447), (2.999999, 1.5))
            Line((2.999999, 1.5), (4.9, 1.5))
            ThreePointArc((5.4, 1), (5.253553, 1.353554), (4.9, 1.5))
            Line((5.4, 1), (5.4, 0.7))
            ThreePointArc((5.2, 0.5), (5.341421, 0.558579), (5.4, 0.7))
            Line((5.2, 0.5), (4.85, 0.5))
            Line((4.85, 0.5), (4.85, 0.2))
            ThreePointArc((4.65, 0), (4.791421, 0.058579), (4.85, 0.2))
            Line((4.65, 0), (0, 0))
            ThreePointArc((-1.5, 1.5), (-1.06066, 0.43934), (0, 0))
            Line((-1.5, 1.5), (-1.5, 6.15))
            ThreePointArc((-1.3, 6.35), (-1.441421, 6.291422), (-1.5, 6.15))
            Line((-1.3, 6.35), (-1, 6.35))
            Line((-1, 6.35), (-1, 6.7))
            ThreePointArc((-0.8, 6.9), (-0.941421, 6.841421), (-1, 6.7))
            Line((-0.8, 6.9), (-0.5, 6.9))
            ThreePointArc((0, 6.4), (-0.146446, 6.753553), (-0.5, 6.9))
            Line((0, 6.4), (0, 4.5))
            ThreePointArc((0, 4.5), (0.146447, 4.146447), (0.5, 4))
            Line((0.5, 4), (1.232233, 4))
            ThreePointArc((1.232233, 4), (1.423575, 4.038061), (1.585787, 4.146447))
            Line((1.585787, 4.146447), (3.853554, 6.414214))
            ThreePointArc((3.853554, 6.414214), (3.96194, 6.576426), (4, 6.767767))
            Line((4, 6.767767), (4, 9.046411))
            ThreePointArc((4.026795, 9.146411), (4.006815, 9.098175), (4, 9.046411))
            Line((4.026795, 9.146411), (4.46188, 9.9))
            ThreePointArc((4.46188, 9.9), (4.488675, 10), (4.46188, 10.1))
            Line((4.46188, 10.1), (4.026795, 10.853589))
            ThreePointArc((4, 10.953589), (4.006815, 10.901825), (4.026795, 10.853589))
            Line((4, 10.953589), (4, 13.232233))
            ThreePointArc((4, 13.232233), (3.96194, 13.423574), (3.853554, 13.585786))
            Line((3.853554, 13.585786), (1.585787, 15.853553))
            ThreePointArc((1.585787, 15.853553), (1.423575, 15.961939), (1.232233, 16))
            Line((1.232233, 16), (0.5, 16))
            ThreePointArc((0.5, 16), (0.146447, 15.853553), (0, 15.5))
            Line((0, 15.5), (0, 13.6))
            ThreePointArc((-0.5, 13.1), (-0.146446, 13.246447), (0, 13.6))
            Line((-0.5, 13.1), (-0.8, 13.1))
            ThreePointArc((-1, 13.3), (-0.941421, 13.158579), (-0.8, 13.1))
            Line((-1, 13.3), (-1, 13.65))
            Line((-1, 13.65), (-1.3, 13.65))
            ThreePointArc((-1.5, 13.85), (-1.441421, 13.708578), (-1.3, 13.65))
            Line((-1.5, 13.85), (-1.5, 18.5))
            ThreePointArc((0, 20), (-1.06066, 19.56066), (-1.5, 18.5))
        make_face()
    extrude(amount=PAD006_DEPTH)


with BuildPart() as perfil_horizontal:
    # Pocket018 base: copy of Pad006
    add(pad006.part)

    # Sketch014 → Pocket018 (cut, through all)
    with BuildSketch(Plane(origin=(0, 280, -1.5), x_dir=(0, 0, -1), z_dir=(0, 1, 0))):
        with BuildLine():
            ThreePointArc((6.586105, 12.989641), (5.988263, 12.50841), (5.507825, 11.909931))
            Line((6.054705, 11.258185), (5.507825, 11.909931))
            ThreePointArc((6.054705, 11.258185), (5.75, 10), (6.054705, 8.741815))
            Line((5.507825, 8.090069), (6.054705, 8.741815))
            ThreePointArc((5.507825, 8.090069), (5.988263, 7.49159), (6.586105, 7.010359))
            Line((7.241815, 7.554705), (6.586105, 7.010359))
            ThreePointArc((7.241815, 7.554705), (8.5, 7.25), (9.758185, 7.554705))
            Line((10.413895, 7.010359), (9.758185, 7.554705))
            ThreePointArc((10.413895, 7.010359), (11.011737, 7.49159), (11.492175, 8.090069))
            Line((10.945295, 8.741815), (11.492175, 8.090069))
            ThreePointArc((10.945295, 8.741815), (11.25, 10), (10.945295, 11.258185))
            Line((11.492175, 11.909931), (10.945295, 11.258185))
            ThreePointArc((11.492175, 11.909931), (11.011737, 12.50841), (10.413895, 12.989641))
            Line((9.758185, 12.445295), (10.413895, 12.989641))
            ThreePointArc((9.758185, 12.445295), (8.5, 12.75), (7.241815, 12.445295))
            Line((6.586105, 12.989641), (7.241815, 12.445295))
        make_face()
    extrude(amount=-POCKET018_DEPTH, mode=Mode.SUBTRACT)

    # Fusion008: union Pad006
    add(pad006.part)


with BuildPart() as perfil_horizontal_1:
    # Fusion008 placement: moved
    add(perfil_horizontal.part.moved(Location((-153, -156, -76))))


solid = perfil_horizontal_1.part
